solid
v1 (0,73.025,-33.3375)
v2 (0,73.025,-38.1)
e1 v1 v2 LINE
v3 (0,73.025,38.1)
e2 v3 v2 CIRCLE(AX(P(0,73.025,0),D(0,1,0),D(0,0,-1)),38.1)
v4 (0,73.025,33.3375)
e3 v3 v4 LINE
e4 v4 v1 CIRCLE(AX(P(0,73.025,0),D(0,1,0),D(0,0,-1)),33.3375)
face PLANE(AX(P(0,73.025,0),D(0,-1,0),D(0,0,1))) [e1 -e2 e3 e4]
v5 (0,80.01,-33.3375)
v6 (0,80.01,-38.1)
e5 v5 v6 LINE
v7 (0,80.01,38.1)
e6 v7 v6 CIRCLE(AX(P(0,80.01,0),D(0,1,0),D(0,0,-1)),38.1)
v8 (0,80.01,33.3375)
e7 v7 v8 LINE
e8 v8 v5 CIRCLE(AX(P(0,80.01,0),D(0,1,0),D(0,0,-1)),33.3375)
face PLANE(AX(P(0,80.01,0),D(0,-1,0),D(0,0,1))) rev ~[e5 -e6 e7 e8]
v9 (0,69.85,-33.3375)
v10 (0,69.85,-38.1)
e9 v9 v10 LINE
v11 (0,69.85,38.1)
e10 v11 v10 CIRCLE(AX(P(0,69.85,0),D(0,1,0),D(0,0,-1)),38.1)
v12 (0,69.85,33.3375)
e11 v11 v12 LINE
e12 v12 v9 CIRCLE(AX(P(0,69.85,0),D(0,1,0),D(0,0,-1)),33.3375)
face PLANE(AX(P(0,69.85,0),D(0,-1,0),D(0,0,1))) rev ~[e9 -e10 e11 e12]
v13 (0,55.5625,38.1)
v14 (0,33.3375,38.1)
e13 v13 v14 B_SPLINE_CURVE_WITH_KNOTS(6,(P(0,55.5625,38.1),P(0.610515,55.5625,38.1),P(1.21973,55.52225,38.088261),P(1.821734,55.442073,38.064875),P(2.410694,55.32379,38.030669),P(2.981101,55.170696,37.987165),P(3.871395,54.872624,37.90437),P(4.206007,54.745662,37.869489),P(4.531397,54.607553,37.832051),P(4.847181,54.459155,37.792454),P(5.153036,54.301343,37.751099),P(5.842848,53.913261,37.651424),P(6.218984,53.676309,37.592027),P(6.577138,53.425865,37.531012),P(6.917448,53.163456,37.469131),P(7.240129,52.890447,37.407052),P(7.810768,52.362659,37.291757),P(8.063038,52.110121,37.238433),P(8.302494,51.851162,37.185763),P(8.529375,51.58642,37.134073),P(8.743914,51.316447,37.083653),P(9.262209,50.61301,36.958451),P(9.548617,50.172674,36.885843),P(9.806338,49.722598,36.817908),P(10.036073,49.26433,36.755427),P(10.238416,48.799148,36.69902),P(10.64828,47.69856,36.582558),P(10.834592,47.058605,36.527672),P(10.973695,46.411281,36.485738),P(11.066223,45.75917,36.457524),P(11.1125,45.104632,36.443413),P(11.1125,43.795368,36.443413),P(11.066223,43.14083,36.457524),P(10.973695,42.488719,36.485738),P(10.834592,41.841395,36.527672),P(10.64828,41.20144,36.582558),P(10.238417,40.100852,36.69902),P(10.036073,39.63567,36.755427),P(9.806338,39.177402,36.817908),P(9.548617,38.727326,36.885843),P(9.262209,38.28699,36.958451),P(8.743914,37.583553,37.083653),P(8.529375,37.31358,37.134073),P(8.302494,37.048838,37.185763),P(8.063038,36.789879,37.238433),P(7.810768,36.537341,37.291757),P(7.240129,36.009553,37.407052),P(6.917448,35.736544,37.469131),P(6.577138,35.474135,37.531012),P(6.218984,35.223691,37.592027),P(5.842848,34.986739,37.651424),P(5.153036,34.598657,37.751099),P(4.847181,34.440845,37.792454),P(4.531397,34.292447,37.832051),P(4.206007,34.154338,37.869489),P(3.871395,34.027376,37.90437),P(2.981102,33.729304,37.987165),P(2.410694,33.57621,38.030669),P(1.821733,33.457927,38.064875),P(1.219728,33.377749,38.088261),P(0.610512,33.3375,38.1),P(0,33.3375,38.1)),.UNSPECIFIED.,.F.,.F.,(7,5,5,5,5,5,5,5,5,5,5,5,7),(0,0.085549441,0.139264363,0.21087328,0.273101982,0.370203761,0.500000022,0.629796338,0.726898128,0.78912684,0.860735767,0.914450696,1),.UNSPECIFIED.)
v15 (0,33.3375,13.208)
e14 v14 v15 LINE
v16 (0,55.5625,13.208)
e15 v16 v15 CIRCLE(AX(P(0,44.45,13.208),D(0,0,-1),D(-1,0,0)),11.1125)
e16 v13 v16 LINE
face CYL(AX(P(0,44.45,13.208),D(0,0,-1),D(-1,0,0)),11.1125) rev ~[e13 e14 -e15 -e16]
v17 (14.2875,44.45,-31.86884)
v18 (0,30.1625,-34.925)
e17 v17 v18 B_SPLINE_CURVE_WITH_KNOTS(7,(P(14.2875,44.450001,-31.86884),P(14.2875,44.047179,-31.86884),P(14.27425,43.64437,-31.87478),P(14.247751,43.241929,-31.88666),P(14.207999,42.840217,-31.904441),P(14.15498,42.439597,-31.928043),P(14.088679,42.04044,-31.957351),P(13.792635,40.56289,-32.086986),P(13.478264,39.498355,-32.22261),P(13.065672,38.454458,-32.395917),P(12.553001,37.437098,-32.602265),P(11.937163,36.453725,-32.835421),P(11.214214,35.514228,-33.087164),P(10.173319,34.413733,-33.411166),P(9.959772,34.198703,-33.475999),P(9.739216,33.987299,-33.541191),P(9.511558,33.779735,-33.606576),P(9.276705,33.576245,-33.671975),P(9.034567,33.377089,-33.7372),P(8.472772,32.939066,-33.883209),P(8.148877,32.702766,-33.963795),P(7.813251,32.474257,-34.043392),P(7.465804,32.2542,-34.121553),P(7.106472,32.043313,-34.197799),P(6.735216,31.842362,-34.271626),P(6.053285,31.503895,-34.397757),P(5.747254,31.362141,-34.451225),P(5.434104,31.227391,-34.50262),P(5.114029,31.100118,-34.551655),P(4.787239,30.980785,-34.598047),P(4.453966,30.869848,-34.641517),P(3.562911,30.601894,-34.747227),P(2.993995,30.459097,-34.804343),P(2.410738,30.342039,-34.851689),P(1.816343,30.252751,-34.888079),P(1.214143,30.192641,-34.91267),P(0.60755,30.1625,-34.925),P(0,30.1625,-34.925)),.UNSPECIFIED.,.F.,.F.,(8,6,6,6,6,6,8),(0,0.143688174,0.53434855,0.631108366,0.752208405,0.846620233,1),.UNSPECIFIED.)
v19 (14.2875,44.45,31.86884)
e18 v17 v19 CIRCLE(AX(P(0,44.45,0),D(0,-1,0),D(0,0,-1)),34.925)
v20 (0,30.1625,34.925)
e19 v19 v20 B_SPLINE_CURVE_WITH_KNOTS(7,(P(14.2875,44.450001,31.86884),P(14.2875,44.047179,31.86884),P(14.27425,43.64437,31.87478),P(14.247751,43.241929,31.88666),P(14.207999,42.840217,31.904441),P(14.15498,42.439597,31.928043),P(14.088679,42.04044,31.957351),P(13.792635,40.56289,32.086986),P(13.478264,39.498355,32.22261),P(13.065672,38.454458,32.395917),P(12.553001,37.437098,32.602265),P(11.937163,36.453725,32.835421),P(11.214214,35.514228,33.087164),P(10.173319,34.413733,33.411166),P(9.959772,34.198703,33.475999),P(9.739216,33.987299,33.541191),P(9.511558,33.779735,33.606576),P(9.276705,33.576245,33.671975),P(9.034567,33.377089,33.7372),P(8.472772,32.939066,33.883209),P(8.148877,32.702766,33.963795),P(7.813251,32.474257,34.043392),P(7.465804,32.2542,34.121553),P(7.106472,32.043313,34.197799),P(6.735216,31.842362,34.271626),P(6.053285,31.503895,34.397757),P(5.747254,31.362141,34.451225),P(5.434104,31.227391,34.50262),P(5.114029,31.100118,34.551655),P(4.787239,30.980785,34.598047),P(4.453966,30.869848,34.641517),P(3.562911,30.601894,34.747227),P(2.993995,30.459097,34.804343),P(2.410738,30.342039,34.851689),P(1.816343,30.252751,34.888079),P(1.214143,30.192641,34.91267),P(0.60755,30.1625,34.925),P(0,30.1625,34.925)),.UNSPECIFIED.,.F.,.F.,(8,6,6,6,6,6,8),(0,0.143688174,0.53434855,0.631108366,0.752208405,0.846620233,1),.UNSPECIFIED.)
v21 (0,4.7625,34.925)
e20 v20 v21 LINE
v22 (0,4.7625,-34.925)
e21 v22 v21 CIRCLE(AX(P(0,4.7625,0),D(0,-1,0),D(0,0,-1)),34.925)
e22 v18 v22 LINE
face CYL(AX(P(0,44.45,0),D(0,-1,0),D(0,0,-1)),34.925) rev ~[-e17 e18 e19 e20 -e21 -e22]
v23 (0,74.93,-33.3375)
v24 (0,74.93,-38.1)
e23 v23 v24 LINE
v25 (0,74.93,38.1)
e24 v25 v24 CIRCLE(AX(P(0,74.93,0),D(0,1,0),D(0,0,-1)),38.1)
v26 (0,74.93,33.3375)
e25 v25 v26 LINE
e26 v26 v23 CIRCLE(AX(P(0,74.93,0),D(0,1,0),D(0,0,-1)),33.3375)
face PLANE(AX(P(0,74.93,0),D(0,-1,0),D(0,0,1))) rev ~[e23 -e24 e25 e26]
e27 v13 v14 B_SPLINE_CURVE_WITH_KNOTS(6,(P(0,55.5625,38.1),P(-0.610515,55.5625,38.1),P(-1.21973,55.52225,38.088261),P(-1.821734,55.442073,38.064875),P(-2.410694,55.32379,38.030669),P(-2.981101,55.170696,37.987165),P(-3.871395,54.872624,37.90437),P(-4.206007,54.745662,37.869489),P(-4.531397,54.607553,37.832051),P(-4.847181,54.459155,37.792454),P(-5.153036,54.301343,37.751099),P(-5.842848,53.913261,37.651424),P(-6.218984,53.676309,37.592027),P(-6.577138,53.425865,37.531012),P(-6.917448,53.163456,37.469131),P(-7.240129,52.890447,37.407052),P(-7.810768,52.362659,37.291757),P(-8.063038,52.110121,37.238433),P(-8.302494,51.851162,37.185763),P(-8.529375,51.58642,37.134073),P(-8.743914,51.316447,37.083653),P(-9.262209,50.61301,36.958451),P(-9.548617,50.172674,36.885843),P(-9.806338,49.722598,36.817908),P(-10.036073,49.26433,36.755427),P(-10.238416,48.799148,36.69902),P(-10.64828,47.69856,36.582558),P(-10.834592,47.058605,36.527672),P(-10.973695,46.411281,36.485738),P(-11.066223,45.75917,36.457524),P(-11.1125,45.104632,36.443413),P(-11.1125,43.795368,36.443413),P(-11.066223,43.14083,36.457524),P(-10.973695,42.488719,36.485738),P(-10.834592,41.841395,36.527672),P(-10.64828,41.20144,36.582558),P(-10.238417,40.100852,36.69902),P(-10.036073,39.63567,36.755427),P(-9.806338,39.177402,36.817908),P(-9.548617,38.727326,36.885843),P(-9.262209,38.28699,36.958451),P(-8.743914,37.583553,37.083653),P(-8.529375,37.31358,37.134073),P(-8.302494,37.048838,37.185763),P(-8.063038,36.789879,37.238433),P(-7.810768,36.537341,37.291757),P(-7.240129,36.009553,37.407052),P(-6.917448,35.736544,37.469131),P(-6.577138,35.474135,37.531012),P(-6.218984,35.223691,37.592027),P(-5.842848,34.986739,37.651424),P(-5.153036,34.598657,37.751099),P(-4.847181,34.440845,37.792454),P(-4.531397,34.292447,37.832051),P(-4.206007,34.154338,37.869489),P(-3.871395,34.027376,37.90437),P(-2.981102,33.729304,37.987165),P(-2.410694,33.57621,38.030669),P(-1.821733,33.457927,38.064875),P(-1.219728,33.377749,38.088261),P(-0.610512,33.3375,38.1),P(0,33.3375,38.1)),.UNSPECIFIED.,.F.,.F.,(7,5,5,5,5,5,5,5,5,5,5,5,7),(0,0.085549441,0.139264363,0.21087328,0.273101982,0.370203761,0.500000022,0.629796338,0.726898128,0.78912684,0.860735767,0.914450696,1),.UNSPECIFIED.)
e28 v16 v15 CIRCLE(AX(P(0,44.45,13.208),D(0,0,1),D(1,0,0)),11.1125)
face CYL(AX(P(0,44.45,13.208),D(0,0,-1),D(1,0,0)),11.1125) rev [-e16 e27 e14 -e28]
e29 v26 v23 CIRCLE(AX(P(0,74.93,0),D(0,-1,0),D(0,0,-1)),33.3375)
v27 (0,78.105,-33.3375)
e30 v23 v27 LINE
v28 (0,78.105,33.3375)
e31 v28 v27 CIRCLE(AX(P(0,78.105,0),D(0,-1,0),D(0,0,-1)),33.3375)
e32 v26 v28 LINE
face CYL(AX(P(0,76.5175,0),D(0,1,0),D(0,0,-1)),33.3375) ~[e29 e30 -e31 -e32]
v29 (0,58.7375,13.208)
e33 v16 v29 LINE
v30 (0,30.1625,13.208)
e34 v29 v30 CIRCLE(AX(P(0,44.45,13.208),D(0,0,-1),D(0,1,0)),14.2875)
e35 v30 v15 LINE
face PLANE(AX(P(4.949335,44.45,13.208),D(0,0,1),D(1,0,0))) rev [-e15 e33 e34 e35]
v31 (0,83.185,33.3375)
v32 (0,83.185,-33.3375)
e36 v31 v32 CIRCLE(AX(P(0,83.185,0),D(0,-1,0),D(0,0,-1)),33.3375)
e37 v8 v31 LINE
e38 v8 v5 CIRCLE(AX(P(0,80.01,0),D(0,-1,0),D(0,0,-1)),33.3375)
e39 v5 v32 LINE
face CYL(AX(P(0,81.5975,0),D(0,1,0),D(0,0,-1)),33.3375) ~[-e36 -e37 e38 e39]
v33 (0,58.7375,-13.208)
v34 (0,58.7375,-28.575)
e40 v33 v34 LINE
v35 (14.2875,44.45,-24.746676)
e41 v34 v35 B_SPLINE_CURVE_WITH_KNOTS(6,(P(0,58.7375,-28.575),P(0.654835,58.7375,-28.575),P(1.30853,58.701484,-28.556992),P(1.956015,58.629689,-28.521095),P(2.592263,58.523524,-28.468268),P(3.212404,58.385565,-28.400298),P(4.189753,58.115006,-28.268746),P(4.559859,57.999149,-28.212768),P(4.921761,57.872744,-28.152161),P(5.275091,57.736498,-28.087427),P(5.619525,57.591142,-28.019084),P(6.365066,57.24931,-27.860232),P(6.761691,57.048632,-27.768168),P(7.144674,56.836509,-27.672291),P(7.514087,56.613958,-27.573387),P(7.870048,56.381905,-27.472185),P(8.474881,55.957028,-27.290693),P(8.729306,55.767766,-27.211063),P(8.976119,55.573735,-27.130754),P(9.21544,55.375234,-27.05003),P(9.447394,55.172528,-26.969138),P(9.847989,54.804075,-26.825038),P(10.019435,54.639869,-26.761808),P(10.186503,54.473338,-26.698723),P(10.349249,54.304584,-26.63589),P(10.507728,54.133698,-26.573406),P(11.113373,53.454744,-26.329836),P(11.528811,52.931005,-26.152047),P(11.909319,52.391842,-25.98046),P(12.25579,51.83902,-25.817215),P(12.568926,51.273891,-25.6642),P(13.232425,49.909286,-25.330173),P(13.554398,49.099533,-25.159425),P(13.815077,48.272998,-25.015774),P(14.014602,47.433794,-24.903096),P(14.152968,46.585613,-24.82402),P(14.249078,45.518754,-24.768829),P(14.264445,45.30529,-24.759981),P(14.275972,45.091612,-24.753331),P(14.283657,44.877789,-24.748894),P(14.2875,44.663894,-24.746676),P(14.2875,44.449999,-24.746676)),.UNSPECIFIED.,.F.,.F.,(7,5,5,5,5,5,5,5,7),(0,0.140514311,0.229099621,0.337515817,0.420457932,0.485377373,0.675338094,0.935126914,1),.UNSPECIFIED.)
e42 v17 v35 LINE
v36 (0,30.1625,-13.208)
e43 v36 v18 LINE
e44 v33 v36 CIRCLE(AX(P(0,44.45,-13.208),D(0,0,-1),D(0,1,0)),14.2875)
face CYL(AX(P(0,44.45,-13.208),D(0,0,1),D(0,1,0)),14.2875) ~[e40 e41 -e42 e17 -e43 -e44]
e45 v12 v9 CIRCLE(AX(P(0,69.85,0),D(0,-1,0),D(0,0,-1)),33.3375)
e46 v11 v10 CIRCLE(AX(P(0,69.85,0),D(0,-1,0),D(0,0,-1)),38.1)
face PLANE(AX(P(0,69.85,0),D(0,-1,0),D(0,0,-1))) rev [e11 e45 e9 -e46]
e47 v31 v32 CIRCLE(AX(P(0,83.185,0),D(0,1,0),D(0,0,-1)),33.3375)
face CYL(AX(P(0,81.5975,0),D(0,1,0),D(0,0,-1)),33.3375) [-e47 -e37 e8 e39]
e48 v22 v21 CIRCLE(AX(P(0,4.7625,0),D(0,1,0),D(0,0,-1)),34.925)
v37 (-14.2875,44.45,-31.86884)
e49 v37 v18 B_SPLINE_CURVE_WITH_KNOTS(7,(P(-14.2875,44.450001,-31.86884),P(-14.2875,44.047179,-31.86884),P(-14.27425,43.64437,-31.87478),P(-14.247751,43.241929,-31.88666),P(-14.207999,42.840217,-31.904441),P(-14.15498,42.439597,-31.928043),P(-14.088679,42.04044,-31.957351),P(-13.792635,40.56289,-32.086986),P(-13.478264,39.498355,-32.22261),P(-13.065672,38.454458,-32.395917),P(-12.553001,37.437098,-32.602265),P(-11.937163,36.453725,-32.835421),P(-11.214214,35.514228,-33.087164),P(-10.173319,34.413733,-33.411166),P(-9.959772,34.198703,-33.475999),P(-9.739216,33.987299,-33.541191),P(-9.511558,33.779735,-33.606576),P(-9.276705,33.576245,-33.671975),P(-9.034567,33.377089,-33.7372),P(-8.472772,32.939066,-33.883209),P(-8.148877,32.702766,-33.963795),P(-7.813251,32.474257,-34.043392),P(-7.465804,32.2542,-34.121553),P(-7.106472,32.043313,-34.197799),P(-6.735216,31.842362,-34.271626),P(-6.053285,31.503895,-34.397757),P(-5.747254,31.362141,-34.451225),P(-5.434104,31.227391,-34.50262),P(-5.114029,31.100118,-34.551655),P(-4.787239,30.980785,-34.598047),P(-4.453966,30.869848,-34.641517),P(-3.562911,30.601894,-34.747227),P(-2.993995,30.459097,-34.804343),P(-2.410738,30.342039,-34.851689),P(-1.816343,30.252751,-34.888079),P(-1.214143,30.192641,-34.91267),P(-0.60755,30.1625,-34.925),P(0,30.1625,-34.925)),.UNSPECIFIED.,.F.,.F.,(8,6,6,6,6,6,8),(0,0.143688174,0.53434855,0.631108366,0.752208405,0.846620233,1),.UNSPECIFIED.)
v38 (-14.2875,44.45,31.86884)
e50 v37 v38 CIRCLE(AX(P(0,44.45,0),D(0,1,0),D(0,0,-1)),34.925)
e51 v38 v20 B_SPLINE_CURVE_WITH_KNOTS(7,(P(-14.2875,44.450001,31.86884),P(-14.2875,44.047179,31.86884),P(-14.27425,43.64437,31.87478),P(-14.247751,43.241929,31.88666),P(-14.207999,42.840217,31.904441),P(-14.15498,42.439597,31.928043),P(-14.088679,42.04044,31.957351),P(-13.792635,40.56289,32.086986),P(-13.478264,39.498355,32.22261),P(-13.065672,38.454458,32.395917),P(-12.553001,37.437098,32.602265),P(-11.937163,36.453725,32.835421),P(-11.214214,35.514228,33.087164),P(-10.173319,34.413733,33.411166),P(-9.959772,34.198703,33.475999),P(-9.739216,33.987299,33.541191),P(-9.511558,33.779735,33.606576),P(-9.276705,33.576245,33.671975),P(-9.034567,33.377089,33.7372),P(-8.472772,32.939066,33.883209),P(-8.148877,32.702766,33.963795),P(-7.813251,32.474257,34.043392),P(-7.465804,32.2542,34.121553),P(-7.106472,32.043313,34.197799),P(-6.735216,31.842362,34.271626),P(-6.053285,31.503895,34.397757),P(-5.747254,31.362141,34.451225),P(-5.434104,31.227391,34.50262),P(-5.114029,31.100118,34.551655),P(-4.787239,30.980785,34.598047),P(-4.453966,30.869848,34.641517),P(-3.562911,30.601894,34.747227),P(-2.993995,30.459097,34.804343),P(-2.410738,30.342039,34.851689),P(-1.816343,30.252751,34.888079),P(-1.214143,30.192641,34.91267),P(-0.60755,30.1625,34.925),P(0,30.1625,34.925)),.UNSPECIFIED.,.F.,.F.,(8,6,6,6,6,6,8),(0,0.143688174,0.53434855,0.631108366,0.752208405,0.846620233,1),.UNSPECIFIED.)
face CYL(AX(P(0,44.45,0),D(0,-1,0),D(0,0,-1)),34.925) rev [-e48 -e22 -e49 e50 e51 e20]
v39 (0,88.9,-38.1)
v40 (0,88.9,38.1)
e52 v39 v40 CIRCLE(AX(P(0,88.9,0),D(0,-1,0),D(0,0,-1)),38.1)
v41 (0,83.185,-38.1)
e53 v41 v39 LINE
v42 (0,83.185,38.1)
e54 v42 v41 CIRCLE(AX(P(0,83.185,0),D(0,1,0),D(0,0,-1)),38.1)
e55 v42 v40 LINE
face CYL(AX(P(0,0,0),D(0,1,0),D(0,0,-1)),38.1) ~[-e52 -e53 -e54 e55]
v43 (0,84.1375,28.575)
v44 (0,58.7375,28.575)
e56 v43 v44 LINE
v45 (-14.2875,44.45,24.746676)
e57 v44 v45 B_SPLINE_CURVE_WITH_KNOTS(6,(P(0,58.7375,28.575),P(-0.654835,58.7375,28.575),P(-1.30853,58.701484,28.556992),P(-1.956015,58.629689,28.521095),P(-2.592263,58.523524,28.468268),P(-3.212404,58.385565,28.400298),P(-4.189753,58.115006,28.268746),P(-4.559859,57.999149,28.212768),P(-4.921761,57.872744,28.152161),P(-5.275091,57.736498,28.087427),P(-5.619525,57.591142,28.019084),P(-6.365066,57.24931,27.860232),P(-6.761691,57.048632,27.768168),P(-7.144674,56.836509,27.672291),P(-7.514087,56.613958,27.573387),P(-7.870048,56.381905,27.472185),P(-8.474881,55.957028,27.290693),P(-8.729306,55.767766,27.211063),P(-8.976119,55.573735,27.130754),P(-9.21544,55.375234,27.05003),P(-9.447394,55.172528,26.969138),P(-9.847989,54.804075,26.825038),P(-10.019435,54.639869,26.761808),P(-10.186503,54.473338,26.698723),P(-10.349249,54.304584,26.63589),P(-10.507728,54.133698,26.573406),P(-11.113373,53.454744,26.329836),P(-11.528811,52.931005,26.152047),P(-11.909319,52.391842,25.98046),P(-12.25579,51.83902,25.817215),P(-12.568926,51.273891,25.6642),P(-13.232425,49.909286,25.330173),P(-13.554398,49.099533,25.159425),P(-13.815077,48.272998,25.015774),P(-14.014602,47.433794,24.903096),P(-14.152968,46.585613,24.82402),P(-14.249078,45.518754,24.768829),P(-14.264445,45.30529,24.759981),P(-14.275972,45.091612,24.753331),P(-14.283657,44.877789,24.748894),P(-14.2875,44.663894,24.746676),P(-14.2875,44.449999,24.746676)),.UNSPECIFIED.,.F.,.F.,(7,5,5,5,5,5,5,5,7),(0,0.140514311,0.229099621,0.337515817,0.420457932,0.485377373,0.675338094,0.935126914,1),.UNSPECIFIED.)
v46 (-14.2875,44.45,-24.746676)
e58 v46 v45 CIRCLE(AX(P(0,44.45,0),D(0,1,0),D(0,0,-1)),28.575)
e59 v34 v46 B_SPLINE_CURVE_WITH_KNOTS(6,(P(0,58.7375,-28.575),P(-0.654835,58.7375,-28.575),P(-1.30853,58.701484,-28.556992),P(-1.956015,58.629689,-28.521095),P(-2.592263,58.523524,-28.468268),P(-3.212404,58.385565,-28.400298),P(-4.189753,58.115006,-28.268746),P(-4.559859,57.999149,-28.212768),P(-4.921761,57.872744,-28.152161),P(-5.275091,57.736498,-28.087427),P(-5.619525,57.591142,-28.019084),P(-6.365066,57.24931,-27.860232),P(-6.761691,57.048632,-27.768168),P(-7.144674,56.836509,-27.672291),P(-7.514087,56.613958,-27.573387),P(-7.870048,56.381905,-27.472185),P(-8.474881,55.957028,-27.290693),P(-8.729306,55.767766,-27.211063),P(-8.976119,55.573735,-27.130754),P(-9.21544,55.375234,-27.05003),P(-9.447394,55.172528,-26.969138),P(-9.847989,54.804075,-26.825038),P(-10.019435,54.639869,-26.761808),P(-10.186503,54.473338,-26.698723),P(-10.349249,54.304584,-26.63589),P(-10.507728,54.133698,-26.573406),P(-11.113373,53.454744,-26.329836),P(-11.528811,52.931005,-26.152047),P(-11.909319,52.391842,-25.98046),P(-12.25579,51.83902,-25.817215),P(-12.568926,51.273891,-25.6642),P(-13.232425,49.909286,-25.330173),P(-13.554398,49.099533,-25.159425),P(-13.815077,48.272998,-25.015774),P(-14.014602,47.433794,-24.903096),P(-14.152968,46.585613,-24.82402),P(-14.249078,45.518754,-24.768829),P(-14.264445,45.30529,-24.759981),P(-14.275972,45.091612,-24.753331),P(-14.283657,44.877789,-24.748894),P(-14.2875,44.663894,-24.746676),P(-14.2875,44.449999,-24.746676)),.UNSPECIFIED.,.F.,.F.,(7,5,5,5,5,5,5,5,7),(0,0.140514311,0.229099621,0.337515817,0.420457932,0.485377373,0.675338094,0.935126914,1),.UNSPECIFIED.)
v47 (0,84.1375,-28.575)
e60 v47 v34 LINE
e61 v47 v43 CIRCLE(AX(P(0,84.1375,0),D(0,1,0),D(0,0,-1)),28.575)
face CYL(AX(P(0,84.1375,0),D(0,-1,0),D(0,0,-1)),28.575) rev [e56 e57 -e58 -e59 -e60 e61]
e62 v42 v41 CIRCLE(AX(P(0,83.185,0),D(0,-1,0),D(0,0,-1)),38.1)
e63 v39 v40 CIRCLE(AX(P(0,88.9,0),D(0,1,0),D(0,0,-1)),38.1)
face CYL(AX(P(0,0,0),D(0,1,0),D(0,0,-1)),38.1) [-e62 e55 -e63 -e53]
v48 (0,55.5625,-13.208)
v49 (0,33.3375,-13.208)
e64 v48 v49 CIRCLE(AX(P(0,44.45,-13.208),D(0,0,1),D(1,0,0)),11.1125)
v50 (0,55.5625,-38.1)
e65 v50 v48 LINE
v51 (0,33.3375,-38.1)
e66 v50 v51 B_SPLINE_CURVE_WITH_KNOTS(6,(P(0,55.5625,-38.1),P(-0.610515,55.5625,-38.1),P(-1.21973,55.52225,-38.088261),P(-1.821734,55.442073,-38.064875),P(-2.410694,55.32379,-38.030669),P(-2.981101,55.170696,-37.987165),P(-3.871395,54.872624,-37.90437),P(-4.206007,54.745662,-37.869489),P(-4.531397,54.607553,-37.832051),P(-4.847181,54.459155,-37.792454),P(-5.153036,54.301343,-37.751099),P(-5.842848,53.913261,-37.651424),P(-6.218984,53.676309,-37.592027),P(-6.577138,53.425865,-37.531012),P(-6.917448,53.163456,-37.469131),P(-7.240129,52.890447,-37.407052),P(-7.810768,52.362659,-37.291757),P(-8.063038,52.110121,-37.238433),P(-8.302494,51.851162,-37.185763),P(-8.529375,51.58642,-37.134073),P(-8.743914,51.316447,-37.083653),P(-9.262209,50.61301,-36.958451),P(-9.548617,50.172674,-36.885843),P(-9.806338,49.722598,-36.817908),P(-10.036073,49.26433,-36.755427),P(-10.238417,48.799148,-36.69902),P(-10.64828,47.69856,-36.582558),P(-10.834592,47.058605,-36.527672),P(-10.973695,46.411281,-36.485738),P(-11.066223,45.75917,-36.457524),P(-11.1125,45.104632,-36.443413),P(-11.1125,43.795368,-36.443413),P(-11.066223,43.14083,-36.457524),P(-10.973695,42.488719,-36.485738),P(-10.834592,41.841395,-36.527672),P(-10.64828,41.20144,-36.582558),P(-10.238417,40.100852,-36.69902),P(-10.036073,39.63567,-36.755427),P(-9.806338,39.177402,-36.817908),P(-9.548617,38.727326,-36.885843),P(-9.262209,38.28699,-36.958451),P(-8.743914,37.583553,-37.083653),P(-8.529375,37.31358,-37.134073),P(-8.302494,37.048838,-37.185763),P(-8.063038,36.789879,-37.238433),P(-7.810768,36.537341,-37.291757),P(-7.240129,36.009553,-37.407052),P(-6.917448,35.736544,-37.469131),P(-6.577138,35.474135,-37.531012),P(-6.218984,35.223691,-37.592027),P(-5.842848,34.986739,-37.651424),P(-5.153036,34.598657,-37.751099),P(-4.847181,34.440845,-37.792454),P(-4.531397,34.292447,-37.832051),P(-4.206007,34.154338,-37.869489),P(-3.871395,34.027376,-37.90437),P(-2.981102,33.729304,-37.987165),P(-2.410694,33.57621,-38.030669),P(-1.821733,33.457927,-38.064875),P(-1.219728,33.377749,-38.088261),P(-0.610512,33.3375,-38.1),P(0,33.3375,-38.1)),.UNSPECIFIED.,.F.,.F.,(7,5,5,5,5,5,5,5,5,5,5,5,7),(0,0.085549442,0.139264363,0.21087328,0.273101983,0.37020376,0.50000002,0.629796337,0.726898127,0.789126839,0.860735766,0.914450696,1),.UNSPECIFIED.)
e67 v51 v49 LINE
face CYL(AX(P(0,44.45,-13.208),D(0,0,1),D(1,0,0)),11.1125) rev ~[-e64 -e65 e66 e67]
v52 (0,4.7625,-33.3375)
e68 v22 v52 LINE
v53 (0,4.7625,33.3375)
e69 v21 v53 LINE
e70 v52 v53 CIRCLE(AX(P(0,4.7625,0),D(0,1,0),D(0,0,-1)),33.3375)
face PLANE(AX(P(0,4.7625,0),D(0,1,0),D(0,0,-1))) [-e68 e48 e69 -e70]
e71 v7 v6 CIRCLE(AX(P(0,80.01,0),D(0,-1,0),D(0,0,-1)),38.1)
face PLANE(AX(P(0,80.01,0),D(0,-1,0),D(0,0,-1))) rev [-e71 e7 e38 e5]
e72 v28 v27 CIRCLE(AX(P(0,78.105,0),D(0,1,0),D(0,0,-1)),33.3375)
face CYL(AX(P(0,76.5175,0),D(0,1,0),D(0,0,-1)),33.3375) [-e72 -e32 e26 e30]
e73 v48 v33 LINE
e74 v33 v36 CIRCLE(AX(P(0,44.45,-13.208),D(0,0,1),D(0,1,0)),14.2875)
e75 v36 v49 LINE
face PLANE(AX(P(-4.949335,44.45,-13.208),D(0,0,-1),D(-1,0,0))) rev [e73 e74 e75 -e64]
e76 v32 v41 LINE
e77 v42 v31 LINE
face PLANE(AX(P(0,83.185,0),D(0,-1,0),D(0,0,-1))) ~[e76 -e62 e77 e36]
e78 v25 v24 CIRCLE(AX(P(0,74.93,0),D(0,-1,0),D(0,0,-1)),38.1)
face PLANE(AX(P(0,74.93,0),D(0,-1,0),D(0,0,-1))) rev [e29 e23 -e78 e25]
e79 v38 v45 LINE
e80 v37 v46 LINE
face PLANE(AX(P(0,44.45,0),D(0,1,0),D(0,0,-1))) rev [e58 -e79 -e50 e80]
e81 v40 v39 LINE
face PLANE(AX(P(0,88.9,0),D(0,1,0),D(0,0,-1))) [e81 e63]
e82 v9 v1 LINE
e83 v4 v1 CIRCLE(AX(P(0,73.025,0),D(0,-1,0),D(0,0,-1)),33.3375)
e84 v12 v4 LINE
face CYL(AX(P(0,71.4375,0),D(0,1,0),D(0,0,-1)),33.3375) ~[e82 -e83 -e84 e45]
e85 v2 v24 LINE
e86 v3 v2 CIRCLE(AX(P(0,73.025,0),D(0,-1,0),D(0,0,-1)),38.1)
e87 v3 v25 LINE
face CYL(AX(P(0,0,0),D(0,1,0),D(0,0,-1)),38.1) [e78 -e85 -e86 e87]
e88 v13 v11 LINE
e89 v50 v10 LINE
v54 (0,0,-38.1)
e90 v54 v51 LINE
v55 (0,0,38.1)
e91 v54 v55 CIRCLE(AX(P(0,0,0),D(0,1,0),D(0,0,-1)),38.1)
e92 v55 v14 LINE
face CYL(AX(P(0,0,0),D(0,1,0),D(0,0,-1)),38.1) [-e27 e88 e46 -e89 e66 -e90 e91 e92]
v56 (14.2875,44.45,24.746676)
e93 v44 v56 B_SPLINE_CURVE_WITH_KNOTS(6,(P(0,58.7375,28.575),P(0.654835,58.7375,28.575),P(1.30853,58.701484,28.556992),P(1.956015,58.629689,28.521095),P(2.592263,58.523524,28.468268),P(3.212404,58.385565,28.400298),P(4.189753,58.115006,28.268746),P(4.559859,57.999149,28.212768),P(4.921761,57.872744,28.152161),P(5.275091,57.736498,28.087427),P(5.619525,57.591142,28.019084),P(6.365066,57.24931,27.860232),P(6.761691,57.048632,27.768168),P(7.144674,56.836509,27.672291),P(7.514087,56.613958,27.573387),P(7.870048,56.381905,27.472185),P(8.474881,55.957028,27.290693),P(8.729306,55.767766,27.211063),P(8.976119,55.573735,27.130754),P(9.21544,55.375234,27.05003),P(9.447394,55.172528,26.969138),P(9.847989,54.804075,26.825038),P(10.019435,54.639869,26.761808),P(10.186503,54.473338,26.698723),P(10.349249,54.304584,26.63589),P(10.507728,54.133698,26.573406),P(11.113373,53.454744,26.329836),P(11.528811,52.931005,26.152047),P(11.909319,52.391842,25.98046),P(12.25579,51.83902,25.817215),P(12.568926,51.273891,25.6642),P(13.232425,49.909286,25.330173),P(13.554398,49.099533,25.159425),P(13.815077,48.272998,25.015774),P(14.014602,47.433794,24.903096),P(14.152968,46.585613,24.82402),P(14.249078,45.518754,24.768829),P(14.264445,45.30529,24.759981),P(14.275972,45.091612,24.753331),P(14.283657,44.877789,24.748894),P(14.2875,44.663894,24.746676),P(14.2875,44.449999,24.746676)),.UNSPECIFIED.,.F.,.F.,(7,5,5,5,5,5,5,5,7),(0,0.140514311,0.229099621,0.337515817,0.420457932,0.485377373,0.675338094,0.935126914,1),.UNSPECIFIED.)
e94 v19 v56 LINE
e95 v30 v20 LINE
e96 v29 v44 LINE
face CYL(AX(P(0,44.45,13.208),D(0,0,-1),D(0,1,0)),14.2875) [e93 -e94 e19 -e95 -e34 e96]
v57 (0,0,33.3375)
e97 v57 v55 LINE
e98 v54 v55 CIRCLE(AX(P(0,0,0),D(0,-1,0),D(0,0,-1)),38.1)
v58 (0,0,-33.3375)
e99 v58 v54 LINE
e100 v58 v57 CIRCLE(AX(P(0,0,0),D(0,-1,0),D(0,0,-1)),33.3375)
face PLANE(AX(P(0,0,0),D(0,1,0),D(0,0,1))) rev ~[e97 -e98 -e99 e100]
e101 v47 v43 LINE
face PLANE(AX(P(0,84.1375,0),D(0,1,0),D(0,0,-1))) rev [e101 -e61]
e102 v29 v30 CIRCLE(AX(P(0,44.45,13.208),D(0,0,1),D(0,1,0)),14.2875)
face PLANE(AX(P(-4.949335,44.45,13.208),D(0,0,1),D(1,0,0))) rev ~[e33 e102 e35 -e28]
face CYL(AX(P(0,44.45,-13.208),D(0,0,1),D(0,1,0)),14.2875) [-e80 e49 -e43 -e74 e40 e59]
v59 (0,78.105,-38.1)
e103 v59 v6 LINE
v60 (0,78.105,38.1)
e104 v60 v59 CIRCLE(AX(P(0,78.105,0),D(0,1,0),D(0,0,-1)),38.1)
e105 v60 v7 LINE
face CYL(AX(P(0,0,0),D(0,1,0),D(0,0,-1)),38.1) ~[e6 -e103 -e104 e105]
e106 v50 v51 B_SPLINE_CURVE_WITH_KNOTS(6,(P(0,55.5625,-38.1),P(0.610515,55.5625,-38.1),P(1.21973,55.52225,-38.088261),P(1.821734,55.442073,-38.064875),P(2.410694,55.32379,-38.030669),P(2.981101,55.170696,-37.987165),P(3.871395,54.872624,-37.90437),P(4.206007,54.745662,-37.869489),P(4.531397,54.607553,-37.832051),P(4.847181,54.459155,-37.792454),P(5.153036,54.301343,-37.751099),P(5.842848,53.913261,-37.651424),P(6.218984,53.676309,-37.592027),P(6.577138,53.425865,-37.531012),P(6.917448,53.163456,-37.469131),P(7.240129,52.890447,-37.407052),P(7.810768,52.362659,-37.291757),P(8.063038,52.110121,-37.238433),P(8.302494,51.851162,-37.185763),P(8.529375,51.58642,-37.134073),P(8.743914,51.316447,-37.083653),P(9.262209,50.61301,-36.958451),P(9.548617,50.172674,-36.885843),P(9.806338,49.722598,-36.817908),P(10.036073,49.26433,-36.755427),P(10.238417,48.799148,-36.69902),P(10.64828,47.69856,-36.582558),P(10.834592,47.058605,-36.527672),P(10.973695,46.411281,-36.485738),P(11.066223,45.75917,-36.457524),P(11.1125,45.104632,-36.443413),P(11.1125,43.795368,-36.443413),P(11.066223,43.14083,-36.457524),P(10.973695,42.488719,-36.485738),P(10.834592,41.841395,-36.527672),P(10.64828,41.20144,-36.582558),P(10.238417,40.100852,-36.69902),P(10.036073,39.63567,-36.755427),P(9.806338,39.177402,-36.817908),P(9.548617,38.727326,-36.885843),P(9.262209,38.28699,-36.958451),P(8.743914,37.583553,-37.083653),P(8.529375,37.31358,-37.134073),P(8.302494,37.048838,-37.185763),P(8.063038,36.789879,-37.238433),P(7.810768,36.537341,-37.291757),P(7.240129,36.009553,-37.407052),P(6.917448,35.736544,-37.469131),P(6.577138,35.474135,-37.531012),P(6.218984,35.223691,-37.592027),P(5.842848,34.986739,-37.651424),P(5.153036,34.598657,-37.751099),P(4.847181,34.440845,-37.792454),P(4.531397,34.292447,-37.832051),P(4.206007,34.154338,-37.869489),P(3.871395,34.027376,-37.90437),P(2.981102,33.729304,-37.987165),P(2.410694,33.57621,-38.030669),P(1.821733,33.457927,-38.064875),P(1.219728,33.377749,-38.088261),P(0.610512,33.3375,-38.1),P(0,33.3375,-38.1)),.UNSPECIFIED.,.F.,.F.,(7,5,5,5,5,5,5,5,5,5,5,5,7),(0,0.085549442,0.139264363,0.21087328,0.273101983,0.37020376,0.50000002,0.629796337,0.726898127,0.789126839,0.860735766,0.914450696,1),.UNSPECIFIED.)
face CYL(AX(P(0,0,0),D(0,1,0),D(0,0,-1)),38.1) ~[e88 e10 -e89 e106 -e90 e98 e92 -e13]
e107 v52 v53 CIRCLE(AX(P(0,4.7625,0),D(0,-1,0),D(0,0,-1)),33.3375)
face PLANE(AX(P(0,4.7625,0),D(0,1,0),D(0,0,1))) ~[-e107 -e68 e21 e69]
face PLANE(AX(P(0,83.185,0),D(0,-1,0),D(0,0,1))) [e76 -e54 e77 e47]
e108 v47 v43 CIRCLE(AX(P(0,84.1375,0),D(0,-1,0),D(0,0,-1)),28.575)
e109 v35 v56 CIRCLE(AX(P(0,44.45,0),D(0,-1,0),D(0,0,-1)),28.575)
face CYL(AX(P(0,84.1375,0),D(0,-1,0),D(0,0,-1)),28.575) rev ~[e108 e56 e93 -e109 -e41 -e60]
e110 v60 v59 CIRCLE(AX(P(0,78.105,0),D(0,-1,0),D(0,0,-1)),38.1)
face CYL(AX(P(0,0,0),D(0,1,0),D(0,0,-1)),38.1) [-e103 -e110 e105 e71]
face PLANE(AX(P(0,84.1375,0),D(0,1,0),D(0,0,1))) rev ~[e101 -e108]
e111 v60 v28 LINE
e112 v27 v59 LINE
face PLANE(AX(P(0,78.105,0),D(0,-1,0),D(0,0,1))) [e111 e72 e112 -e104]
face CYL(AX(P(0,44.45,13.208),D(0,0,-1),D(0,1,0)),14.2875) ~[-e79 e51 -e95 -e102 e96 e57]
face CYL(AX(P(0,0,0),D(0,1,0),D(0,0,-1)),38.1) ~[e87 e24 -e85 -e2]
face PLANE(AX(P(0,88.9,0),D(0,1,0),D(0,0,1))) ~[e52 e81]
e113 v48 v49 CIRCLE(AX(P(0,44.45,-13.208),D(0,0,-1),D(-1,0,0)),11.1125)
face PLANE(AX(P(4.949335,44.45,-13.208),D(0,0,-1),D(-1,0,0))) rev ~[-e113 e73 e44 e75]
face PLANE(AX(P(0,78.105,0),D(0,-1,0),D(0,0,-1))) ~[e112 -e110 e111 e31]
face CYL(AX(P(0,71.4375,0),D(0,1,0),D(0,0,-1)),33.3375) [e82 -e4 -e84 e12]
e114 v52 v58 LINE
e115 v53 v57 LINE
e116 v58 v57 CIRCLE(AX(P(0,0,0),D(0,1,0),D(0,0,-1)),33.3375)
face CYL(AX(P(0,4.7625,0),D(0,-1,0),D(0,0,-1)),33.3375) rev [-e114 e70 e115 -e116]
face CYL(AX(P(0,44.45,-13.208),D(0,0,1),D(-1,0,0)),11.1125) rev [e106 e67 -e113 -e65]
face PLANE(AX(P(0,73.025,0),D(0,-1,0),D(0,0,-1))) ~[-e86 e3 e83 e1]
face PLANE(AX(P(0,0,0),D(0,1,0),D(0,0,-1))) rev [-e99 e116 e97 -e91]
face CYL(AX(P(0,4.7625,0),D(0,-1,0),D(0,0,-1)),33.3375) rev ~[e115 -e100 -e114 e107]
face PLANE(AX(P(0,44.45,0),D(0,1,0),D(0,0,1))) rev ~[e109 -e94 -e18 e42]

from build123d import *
from build123d.topology import SkipClean

# Parameters (mm, degrees)
MAIN_ANGLE          = 180
CIRCULAR_BOSS_REACH = 111.487
SKETCH6_R           = 11.1125
CIRCULAR_CUT_DEPTH  = 110.4866698
SKETCH7_W           = 4.7625
SKETCH7_H           = 3.175
LPATTERN1_COUNT     = 3
LPATTERN1_PITCH     = 5.08


with BuildPart() as part:
    # Sketch1 → Main (revolve)
    with BuildSketch(Plane(origin=(0, 0, 0), x_dir=(0, 0, -1), z_dir=(1, 0, 0))):
        Polygon((38.1, 88.9), (0, 88.9), (0, 84.1375), (28.575, 84.1375), (28.575, 44.45), (34.925, 44.45), (34.925, 4.7625), (33.3375, 4.7625), (33.3375, 0), (38.1, 0), align=None)
    revolve(axis=Axis((0, 88.9, 0), (0, 1, 0)), revolution_arc=MAIN_ANGLE)

    # Sketch5 → Circular Boss (add, up to next)
    with BuildSketch(Plane.XY.offset(13.208), mode=Mode.PRIVATE) as circular_boss_sk1:
        with BuildLine():
            Line((0, 30.1625), (0, 58.7375))
            ThreePointArc((0, 58.7375), (-14.2875, 44.45), (0, 30.1625))
        make_face()
    circular_boss_tool1 = extrude(circular_boss_sk1.sketch, amount=CIRCULAR_BOSS_REACH, mode=Mode.PRIVATE) - part.part
    circular_boss = circular_boss_tool1.solids().sort_by_distance((-6.063803, 44.45, 13.208))[0]
    add(circular_boss)

    # Sketch6 → Circular Cut (cut, through all)
    with BuildSketch(Plane.XY.offset(13.208)):
        with Locations((0, 44.45)):
            Circle(SKETCH6_R)
    circular_cut = extrude(amount=CIRCULAR_CUT_DEPTH, mode=Mode.SUBTRACT)

    # Sketch7 → Cut-Revolve1 (revolve, cut)
    with BuildSketch(Plane(origin=(0, 7.447290845, 55.242674731), x_dir=(0, 0, -1), z_dir=(1, 0, 0))):
        with Locations((90.961424731, 63.990209155)):
            Rectangle(SKETCH7_W, SKETCH7_H)
    cut_revolve1 = revolve(axis=Axis((0, 73.025, 0), (0, -1, 0)), mode=Mode.SUBTRACT)

    # LPattern1: Cut-Revolve1 ×3
    with Locations(*[(0, i * LPATTERN1_PITCH, 0) for i in range(1, LPATTERN1_COUNT)]):
        add(cut_revolve1, mode=Mode.SUBTRACT)

    # Mirror1: Circular Boss, Circular Cut across plane
    add(circular_boss.mirror(Plane.XY))
    add(circular_cut.mirror(Plane.XY), mode=Mode.SUBTRACT)

    # Mirror2: part across face


with BuildPart() as part_1:
    with SkipClean():  # the faces are left unmerged after this step: merging them gives an invalid solid
        add(part.part)
        add(part.part.mirror(Plane(origin=(0, 74.450038597, 0), x_dir=(0, 0, 1), z_dir=(1, 0, 0))))


solid = part_1.part
